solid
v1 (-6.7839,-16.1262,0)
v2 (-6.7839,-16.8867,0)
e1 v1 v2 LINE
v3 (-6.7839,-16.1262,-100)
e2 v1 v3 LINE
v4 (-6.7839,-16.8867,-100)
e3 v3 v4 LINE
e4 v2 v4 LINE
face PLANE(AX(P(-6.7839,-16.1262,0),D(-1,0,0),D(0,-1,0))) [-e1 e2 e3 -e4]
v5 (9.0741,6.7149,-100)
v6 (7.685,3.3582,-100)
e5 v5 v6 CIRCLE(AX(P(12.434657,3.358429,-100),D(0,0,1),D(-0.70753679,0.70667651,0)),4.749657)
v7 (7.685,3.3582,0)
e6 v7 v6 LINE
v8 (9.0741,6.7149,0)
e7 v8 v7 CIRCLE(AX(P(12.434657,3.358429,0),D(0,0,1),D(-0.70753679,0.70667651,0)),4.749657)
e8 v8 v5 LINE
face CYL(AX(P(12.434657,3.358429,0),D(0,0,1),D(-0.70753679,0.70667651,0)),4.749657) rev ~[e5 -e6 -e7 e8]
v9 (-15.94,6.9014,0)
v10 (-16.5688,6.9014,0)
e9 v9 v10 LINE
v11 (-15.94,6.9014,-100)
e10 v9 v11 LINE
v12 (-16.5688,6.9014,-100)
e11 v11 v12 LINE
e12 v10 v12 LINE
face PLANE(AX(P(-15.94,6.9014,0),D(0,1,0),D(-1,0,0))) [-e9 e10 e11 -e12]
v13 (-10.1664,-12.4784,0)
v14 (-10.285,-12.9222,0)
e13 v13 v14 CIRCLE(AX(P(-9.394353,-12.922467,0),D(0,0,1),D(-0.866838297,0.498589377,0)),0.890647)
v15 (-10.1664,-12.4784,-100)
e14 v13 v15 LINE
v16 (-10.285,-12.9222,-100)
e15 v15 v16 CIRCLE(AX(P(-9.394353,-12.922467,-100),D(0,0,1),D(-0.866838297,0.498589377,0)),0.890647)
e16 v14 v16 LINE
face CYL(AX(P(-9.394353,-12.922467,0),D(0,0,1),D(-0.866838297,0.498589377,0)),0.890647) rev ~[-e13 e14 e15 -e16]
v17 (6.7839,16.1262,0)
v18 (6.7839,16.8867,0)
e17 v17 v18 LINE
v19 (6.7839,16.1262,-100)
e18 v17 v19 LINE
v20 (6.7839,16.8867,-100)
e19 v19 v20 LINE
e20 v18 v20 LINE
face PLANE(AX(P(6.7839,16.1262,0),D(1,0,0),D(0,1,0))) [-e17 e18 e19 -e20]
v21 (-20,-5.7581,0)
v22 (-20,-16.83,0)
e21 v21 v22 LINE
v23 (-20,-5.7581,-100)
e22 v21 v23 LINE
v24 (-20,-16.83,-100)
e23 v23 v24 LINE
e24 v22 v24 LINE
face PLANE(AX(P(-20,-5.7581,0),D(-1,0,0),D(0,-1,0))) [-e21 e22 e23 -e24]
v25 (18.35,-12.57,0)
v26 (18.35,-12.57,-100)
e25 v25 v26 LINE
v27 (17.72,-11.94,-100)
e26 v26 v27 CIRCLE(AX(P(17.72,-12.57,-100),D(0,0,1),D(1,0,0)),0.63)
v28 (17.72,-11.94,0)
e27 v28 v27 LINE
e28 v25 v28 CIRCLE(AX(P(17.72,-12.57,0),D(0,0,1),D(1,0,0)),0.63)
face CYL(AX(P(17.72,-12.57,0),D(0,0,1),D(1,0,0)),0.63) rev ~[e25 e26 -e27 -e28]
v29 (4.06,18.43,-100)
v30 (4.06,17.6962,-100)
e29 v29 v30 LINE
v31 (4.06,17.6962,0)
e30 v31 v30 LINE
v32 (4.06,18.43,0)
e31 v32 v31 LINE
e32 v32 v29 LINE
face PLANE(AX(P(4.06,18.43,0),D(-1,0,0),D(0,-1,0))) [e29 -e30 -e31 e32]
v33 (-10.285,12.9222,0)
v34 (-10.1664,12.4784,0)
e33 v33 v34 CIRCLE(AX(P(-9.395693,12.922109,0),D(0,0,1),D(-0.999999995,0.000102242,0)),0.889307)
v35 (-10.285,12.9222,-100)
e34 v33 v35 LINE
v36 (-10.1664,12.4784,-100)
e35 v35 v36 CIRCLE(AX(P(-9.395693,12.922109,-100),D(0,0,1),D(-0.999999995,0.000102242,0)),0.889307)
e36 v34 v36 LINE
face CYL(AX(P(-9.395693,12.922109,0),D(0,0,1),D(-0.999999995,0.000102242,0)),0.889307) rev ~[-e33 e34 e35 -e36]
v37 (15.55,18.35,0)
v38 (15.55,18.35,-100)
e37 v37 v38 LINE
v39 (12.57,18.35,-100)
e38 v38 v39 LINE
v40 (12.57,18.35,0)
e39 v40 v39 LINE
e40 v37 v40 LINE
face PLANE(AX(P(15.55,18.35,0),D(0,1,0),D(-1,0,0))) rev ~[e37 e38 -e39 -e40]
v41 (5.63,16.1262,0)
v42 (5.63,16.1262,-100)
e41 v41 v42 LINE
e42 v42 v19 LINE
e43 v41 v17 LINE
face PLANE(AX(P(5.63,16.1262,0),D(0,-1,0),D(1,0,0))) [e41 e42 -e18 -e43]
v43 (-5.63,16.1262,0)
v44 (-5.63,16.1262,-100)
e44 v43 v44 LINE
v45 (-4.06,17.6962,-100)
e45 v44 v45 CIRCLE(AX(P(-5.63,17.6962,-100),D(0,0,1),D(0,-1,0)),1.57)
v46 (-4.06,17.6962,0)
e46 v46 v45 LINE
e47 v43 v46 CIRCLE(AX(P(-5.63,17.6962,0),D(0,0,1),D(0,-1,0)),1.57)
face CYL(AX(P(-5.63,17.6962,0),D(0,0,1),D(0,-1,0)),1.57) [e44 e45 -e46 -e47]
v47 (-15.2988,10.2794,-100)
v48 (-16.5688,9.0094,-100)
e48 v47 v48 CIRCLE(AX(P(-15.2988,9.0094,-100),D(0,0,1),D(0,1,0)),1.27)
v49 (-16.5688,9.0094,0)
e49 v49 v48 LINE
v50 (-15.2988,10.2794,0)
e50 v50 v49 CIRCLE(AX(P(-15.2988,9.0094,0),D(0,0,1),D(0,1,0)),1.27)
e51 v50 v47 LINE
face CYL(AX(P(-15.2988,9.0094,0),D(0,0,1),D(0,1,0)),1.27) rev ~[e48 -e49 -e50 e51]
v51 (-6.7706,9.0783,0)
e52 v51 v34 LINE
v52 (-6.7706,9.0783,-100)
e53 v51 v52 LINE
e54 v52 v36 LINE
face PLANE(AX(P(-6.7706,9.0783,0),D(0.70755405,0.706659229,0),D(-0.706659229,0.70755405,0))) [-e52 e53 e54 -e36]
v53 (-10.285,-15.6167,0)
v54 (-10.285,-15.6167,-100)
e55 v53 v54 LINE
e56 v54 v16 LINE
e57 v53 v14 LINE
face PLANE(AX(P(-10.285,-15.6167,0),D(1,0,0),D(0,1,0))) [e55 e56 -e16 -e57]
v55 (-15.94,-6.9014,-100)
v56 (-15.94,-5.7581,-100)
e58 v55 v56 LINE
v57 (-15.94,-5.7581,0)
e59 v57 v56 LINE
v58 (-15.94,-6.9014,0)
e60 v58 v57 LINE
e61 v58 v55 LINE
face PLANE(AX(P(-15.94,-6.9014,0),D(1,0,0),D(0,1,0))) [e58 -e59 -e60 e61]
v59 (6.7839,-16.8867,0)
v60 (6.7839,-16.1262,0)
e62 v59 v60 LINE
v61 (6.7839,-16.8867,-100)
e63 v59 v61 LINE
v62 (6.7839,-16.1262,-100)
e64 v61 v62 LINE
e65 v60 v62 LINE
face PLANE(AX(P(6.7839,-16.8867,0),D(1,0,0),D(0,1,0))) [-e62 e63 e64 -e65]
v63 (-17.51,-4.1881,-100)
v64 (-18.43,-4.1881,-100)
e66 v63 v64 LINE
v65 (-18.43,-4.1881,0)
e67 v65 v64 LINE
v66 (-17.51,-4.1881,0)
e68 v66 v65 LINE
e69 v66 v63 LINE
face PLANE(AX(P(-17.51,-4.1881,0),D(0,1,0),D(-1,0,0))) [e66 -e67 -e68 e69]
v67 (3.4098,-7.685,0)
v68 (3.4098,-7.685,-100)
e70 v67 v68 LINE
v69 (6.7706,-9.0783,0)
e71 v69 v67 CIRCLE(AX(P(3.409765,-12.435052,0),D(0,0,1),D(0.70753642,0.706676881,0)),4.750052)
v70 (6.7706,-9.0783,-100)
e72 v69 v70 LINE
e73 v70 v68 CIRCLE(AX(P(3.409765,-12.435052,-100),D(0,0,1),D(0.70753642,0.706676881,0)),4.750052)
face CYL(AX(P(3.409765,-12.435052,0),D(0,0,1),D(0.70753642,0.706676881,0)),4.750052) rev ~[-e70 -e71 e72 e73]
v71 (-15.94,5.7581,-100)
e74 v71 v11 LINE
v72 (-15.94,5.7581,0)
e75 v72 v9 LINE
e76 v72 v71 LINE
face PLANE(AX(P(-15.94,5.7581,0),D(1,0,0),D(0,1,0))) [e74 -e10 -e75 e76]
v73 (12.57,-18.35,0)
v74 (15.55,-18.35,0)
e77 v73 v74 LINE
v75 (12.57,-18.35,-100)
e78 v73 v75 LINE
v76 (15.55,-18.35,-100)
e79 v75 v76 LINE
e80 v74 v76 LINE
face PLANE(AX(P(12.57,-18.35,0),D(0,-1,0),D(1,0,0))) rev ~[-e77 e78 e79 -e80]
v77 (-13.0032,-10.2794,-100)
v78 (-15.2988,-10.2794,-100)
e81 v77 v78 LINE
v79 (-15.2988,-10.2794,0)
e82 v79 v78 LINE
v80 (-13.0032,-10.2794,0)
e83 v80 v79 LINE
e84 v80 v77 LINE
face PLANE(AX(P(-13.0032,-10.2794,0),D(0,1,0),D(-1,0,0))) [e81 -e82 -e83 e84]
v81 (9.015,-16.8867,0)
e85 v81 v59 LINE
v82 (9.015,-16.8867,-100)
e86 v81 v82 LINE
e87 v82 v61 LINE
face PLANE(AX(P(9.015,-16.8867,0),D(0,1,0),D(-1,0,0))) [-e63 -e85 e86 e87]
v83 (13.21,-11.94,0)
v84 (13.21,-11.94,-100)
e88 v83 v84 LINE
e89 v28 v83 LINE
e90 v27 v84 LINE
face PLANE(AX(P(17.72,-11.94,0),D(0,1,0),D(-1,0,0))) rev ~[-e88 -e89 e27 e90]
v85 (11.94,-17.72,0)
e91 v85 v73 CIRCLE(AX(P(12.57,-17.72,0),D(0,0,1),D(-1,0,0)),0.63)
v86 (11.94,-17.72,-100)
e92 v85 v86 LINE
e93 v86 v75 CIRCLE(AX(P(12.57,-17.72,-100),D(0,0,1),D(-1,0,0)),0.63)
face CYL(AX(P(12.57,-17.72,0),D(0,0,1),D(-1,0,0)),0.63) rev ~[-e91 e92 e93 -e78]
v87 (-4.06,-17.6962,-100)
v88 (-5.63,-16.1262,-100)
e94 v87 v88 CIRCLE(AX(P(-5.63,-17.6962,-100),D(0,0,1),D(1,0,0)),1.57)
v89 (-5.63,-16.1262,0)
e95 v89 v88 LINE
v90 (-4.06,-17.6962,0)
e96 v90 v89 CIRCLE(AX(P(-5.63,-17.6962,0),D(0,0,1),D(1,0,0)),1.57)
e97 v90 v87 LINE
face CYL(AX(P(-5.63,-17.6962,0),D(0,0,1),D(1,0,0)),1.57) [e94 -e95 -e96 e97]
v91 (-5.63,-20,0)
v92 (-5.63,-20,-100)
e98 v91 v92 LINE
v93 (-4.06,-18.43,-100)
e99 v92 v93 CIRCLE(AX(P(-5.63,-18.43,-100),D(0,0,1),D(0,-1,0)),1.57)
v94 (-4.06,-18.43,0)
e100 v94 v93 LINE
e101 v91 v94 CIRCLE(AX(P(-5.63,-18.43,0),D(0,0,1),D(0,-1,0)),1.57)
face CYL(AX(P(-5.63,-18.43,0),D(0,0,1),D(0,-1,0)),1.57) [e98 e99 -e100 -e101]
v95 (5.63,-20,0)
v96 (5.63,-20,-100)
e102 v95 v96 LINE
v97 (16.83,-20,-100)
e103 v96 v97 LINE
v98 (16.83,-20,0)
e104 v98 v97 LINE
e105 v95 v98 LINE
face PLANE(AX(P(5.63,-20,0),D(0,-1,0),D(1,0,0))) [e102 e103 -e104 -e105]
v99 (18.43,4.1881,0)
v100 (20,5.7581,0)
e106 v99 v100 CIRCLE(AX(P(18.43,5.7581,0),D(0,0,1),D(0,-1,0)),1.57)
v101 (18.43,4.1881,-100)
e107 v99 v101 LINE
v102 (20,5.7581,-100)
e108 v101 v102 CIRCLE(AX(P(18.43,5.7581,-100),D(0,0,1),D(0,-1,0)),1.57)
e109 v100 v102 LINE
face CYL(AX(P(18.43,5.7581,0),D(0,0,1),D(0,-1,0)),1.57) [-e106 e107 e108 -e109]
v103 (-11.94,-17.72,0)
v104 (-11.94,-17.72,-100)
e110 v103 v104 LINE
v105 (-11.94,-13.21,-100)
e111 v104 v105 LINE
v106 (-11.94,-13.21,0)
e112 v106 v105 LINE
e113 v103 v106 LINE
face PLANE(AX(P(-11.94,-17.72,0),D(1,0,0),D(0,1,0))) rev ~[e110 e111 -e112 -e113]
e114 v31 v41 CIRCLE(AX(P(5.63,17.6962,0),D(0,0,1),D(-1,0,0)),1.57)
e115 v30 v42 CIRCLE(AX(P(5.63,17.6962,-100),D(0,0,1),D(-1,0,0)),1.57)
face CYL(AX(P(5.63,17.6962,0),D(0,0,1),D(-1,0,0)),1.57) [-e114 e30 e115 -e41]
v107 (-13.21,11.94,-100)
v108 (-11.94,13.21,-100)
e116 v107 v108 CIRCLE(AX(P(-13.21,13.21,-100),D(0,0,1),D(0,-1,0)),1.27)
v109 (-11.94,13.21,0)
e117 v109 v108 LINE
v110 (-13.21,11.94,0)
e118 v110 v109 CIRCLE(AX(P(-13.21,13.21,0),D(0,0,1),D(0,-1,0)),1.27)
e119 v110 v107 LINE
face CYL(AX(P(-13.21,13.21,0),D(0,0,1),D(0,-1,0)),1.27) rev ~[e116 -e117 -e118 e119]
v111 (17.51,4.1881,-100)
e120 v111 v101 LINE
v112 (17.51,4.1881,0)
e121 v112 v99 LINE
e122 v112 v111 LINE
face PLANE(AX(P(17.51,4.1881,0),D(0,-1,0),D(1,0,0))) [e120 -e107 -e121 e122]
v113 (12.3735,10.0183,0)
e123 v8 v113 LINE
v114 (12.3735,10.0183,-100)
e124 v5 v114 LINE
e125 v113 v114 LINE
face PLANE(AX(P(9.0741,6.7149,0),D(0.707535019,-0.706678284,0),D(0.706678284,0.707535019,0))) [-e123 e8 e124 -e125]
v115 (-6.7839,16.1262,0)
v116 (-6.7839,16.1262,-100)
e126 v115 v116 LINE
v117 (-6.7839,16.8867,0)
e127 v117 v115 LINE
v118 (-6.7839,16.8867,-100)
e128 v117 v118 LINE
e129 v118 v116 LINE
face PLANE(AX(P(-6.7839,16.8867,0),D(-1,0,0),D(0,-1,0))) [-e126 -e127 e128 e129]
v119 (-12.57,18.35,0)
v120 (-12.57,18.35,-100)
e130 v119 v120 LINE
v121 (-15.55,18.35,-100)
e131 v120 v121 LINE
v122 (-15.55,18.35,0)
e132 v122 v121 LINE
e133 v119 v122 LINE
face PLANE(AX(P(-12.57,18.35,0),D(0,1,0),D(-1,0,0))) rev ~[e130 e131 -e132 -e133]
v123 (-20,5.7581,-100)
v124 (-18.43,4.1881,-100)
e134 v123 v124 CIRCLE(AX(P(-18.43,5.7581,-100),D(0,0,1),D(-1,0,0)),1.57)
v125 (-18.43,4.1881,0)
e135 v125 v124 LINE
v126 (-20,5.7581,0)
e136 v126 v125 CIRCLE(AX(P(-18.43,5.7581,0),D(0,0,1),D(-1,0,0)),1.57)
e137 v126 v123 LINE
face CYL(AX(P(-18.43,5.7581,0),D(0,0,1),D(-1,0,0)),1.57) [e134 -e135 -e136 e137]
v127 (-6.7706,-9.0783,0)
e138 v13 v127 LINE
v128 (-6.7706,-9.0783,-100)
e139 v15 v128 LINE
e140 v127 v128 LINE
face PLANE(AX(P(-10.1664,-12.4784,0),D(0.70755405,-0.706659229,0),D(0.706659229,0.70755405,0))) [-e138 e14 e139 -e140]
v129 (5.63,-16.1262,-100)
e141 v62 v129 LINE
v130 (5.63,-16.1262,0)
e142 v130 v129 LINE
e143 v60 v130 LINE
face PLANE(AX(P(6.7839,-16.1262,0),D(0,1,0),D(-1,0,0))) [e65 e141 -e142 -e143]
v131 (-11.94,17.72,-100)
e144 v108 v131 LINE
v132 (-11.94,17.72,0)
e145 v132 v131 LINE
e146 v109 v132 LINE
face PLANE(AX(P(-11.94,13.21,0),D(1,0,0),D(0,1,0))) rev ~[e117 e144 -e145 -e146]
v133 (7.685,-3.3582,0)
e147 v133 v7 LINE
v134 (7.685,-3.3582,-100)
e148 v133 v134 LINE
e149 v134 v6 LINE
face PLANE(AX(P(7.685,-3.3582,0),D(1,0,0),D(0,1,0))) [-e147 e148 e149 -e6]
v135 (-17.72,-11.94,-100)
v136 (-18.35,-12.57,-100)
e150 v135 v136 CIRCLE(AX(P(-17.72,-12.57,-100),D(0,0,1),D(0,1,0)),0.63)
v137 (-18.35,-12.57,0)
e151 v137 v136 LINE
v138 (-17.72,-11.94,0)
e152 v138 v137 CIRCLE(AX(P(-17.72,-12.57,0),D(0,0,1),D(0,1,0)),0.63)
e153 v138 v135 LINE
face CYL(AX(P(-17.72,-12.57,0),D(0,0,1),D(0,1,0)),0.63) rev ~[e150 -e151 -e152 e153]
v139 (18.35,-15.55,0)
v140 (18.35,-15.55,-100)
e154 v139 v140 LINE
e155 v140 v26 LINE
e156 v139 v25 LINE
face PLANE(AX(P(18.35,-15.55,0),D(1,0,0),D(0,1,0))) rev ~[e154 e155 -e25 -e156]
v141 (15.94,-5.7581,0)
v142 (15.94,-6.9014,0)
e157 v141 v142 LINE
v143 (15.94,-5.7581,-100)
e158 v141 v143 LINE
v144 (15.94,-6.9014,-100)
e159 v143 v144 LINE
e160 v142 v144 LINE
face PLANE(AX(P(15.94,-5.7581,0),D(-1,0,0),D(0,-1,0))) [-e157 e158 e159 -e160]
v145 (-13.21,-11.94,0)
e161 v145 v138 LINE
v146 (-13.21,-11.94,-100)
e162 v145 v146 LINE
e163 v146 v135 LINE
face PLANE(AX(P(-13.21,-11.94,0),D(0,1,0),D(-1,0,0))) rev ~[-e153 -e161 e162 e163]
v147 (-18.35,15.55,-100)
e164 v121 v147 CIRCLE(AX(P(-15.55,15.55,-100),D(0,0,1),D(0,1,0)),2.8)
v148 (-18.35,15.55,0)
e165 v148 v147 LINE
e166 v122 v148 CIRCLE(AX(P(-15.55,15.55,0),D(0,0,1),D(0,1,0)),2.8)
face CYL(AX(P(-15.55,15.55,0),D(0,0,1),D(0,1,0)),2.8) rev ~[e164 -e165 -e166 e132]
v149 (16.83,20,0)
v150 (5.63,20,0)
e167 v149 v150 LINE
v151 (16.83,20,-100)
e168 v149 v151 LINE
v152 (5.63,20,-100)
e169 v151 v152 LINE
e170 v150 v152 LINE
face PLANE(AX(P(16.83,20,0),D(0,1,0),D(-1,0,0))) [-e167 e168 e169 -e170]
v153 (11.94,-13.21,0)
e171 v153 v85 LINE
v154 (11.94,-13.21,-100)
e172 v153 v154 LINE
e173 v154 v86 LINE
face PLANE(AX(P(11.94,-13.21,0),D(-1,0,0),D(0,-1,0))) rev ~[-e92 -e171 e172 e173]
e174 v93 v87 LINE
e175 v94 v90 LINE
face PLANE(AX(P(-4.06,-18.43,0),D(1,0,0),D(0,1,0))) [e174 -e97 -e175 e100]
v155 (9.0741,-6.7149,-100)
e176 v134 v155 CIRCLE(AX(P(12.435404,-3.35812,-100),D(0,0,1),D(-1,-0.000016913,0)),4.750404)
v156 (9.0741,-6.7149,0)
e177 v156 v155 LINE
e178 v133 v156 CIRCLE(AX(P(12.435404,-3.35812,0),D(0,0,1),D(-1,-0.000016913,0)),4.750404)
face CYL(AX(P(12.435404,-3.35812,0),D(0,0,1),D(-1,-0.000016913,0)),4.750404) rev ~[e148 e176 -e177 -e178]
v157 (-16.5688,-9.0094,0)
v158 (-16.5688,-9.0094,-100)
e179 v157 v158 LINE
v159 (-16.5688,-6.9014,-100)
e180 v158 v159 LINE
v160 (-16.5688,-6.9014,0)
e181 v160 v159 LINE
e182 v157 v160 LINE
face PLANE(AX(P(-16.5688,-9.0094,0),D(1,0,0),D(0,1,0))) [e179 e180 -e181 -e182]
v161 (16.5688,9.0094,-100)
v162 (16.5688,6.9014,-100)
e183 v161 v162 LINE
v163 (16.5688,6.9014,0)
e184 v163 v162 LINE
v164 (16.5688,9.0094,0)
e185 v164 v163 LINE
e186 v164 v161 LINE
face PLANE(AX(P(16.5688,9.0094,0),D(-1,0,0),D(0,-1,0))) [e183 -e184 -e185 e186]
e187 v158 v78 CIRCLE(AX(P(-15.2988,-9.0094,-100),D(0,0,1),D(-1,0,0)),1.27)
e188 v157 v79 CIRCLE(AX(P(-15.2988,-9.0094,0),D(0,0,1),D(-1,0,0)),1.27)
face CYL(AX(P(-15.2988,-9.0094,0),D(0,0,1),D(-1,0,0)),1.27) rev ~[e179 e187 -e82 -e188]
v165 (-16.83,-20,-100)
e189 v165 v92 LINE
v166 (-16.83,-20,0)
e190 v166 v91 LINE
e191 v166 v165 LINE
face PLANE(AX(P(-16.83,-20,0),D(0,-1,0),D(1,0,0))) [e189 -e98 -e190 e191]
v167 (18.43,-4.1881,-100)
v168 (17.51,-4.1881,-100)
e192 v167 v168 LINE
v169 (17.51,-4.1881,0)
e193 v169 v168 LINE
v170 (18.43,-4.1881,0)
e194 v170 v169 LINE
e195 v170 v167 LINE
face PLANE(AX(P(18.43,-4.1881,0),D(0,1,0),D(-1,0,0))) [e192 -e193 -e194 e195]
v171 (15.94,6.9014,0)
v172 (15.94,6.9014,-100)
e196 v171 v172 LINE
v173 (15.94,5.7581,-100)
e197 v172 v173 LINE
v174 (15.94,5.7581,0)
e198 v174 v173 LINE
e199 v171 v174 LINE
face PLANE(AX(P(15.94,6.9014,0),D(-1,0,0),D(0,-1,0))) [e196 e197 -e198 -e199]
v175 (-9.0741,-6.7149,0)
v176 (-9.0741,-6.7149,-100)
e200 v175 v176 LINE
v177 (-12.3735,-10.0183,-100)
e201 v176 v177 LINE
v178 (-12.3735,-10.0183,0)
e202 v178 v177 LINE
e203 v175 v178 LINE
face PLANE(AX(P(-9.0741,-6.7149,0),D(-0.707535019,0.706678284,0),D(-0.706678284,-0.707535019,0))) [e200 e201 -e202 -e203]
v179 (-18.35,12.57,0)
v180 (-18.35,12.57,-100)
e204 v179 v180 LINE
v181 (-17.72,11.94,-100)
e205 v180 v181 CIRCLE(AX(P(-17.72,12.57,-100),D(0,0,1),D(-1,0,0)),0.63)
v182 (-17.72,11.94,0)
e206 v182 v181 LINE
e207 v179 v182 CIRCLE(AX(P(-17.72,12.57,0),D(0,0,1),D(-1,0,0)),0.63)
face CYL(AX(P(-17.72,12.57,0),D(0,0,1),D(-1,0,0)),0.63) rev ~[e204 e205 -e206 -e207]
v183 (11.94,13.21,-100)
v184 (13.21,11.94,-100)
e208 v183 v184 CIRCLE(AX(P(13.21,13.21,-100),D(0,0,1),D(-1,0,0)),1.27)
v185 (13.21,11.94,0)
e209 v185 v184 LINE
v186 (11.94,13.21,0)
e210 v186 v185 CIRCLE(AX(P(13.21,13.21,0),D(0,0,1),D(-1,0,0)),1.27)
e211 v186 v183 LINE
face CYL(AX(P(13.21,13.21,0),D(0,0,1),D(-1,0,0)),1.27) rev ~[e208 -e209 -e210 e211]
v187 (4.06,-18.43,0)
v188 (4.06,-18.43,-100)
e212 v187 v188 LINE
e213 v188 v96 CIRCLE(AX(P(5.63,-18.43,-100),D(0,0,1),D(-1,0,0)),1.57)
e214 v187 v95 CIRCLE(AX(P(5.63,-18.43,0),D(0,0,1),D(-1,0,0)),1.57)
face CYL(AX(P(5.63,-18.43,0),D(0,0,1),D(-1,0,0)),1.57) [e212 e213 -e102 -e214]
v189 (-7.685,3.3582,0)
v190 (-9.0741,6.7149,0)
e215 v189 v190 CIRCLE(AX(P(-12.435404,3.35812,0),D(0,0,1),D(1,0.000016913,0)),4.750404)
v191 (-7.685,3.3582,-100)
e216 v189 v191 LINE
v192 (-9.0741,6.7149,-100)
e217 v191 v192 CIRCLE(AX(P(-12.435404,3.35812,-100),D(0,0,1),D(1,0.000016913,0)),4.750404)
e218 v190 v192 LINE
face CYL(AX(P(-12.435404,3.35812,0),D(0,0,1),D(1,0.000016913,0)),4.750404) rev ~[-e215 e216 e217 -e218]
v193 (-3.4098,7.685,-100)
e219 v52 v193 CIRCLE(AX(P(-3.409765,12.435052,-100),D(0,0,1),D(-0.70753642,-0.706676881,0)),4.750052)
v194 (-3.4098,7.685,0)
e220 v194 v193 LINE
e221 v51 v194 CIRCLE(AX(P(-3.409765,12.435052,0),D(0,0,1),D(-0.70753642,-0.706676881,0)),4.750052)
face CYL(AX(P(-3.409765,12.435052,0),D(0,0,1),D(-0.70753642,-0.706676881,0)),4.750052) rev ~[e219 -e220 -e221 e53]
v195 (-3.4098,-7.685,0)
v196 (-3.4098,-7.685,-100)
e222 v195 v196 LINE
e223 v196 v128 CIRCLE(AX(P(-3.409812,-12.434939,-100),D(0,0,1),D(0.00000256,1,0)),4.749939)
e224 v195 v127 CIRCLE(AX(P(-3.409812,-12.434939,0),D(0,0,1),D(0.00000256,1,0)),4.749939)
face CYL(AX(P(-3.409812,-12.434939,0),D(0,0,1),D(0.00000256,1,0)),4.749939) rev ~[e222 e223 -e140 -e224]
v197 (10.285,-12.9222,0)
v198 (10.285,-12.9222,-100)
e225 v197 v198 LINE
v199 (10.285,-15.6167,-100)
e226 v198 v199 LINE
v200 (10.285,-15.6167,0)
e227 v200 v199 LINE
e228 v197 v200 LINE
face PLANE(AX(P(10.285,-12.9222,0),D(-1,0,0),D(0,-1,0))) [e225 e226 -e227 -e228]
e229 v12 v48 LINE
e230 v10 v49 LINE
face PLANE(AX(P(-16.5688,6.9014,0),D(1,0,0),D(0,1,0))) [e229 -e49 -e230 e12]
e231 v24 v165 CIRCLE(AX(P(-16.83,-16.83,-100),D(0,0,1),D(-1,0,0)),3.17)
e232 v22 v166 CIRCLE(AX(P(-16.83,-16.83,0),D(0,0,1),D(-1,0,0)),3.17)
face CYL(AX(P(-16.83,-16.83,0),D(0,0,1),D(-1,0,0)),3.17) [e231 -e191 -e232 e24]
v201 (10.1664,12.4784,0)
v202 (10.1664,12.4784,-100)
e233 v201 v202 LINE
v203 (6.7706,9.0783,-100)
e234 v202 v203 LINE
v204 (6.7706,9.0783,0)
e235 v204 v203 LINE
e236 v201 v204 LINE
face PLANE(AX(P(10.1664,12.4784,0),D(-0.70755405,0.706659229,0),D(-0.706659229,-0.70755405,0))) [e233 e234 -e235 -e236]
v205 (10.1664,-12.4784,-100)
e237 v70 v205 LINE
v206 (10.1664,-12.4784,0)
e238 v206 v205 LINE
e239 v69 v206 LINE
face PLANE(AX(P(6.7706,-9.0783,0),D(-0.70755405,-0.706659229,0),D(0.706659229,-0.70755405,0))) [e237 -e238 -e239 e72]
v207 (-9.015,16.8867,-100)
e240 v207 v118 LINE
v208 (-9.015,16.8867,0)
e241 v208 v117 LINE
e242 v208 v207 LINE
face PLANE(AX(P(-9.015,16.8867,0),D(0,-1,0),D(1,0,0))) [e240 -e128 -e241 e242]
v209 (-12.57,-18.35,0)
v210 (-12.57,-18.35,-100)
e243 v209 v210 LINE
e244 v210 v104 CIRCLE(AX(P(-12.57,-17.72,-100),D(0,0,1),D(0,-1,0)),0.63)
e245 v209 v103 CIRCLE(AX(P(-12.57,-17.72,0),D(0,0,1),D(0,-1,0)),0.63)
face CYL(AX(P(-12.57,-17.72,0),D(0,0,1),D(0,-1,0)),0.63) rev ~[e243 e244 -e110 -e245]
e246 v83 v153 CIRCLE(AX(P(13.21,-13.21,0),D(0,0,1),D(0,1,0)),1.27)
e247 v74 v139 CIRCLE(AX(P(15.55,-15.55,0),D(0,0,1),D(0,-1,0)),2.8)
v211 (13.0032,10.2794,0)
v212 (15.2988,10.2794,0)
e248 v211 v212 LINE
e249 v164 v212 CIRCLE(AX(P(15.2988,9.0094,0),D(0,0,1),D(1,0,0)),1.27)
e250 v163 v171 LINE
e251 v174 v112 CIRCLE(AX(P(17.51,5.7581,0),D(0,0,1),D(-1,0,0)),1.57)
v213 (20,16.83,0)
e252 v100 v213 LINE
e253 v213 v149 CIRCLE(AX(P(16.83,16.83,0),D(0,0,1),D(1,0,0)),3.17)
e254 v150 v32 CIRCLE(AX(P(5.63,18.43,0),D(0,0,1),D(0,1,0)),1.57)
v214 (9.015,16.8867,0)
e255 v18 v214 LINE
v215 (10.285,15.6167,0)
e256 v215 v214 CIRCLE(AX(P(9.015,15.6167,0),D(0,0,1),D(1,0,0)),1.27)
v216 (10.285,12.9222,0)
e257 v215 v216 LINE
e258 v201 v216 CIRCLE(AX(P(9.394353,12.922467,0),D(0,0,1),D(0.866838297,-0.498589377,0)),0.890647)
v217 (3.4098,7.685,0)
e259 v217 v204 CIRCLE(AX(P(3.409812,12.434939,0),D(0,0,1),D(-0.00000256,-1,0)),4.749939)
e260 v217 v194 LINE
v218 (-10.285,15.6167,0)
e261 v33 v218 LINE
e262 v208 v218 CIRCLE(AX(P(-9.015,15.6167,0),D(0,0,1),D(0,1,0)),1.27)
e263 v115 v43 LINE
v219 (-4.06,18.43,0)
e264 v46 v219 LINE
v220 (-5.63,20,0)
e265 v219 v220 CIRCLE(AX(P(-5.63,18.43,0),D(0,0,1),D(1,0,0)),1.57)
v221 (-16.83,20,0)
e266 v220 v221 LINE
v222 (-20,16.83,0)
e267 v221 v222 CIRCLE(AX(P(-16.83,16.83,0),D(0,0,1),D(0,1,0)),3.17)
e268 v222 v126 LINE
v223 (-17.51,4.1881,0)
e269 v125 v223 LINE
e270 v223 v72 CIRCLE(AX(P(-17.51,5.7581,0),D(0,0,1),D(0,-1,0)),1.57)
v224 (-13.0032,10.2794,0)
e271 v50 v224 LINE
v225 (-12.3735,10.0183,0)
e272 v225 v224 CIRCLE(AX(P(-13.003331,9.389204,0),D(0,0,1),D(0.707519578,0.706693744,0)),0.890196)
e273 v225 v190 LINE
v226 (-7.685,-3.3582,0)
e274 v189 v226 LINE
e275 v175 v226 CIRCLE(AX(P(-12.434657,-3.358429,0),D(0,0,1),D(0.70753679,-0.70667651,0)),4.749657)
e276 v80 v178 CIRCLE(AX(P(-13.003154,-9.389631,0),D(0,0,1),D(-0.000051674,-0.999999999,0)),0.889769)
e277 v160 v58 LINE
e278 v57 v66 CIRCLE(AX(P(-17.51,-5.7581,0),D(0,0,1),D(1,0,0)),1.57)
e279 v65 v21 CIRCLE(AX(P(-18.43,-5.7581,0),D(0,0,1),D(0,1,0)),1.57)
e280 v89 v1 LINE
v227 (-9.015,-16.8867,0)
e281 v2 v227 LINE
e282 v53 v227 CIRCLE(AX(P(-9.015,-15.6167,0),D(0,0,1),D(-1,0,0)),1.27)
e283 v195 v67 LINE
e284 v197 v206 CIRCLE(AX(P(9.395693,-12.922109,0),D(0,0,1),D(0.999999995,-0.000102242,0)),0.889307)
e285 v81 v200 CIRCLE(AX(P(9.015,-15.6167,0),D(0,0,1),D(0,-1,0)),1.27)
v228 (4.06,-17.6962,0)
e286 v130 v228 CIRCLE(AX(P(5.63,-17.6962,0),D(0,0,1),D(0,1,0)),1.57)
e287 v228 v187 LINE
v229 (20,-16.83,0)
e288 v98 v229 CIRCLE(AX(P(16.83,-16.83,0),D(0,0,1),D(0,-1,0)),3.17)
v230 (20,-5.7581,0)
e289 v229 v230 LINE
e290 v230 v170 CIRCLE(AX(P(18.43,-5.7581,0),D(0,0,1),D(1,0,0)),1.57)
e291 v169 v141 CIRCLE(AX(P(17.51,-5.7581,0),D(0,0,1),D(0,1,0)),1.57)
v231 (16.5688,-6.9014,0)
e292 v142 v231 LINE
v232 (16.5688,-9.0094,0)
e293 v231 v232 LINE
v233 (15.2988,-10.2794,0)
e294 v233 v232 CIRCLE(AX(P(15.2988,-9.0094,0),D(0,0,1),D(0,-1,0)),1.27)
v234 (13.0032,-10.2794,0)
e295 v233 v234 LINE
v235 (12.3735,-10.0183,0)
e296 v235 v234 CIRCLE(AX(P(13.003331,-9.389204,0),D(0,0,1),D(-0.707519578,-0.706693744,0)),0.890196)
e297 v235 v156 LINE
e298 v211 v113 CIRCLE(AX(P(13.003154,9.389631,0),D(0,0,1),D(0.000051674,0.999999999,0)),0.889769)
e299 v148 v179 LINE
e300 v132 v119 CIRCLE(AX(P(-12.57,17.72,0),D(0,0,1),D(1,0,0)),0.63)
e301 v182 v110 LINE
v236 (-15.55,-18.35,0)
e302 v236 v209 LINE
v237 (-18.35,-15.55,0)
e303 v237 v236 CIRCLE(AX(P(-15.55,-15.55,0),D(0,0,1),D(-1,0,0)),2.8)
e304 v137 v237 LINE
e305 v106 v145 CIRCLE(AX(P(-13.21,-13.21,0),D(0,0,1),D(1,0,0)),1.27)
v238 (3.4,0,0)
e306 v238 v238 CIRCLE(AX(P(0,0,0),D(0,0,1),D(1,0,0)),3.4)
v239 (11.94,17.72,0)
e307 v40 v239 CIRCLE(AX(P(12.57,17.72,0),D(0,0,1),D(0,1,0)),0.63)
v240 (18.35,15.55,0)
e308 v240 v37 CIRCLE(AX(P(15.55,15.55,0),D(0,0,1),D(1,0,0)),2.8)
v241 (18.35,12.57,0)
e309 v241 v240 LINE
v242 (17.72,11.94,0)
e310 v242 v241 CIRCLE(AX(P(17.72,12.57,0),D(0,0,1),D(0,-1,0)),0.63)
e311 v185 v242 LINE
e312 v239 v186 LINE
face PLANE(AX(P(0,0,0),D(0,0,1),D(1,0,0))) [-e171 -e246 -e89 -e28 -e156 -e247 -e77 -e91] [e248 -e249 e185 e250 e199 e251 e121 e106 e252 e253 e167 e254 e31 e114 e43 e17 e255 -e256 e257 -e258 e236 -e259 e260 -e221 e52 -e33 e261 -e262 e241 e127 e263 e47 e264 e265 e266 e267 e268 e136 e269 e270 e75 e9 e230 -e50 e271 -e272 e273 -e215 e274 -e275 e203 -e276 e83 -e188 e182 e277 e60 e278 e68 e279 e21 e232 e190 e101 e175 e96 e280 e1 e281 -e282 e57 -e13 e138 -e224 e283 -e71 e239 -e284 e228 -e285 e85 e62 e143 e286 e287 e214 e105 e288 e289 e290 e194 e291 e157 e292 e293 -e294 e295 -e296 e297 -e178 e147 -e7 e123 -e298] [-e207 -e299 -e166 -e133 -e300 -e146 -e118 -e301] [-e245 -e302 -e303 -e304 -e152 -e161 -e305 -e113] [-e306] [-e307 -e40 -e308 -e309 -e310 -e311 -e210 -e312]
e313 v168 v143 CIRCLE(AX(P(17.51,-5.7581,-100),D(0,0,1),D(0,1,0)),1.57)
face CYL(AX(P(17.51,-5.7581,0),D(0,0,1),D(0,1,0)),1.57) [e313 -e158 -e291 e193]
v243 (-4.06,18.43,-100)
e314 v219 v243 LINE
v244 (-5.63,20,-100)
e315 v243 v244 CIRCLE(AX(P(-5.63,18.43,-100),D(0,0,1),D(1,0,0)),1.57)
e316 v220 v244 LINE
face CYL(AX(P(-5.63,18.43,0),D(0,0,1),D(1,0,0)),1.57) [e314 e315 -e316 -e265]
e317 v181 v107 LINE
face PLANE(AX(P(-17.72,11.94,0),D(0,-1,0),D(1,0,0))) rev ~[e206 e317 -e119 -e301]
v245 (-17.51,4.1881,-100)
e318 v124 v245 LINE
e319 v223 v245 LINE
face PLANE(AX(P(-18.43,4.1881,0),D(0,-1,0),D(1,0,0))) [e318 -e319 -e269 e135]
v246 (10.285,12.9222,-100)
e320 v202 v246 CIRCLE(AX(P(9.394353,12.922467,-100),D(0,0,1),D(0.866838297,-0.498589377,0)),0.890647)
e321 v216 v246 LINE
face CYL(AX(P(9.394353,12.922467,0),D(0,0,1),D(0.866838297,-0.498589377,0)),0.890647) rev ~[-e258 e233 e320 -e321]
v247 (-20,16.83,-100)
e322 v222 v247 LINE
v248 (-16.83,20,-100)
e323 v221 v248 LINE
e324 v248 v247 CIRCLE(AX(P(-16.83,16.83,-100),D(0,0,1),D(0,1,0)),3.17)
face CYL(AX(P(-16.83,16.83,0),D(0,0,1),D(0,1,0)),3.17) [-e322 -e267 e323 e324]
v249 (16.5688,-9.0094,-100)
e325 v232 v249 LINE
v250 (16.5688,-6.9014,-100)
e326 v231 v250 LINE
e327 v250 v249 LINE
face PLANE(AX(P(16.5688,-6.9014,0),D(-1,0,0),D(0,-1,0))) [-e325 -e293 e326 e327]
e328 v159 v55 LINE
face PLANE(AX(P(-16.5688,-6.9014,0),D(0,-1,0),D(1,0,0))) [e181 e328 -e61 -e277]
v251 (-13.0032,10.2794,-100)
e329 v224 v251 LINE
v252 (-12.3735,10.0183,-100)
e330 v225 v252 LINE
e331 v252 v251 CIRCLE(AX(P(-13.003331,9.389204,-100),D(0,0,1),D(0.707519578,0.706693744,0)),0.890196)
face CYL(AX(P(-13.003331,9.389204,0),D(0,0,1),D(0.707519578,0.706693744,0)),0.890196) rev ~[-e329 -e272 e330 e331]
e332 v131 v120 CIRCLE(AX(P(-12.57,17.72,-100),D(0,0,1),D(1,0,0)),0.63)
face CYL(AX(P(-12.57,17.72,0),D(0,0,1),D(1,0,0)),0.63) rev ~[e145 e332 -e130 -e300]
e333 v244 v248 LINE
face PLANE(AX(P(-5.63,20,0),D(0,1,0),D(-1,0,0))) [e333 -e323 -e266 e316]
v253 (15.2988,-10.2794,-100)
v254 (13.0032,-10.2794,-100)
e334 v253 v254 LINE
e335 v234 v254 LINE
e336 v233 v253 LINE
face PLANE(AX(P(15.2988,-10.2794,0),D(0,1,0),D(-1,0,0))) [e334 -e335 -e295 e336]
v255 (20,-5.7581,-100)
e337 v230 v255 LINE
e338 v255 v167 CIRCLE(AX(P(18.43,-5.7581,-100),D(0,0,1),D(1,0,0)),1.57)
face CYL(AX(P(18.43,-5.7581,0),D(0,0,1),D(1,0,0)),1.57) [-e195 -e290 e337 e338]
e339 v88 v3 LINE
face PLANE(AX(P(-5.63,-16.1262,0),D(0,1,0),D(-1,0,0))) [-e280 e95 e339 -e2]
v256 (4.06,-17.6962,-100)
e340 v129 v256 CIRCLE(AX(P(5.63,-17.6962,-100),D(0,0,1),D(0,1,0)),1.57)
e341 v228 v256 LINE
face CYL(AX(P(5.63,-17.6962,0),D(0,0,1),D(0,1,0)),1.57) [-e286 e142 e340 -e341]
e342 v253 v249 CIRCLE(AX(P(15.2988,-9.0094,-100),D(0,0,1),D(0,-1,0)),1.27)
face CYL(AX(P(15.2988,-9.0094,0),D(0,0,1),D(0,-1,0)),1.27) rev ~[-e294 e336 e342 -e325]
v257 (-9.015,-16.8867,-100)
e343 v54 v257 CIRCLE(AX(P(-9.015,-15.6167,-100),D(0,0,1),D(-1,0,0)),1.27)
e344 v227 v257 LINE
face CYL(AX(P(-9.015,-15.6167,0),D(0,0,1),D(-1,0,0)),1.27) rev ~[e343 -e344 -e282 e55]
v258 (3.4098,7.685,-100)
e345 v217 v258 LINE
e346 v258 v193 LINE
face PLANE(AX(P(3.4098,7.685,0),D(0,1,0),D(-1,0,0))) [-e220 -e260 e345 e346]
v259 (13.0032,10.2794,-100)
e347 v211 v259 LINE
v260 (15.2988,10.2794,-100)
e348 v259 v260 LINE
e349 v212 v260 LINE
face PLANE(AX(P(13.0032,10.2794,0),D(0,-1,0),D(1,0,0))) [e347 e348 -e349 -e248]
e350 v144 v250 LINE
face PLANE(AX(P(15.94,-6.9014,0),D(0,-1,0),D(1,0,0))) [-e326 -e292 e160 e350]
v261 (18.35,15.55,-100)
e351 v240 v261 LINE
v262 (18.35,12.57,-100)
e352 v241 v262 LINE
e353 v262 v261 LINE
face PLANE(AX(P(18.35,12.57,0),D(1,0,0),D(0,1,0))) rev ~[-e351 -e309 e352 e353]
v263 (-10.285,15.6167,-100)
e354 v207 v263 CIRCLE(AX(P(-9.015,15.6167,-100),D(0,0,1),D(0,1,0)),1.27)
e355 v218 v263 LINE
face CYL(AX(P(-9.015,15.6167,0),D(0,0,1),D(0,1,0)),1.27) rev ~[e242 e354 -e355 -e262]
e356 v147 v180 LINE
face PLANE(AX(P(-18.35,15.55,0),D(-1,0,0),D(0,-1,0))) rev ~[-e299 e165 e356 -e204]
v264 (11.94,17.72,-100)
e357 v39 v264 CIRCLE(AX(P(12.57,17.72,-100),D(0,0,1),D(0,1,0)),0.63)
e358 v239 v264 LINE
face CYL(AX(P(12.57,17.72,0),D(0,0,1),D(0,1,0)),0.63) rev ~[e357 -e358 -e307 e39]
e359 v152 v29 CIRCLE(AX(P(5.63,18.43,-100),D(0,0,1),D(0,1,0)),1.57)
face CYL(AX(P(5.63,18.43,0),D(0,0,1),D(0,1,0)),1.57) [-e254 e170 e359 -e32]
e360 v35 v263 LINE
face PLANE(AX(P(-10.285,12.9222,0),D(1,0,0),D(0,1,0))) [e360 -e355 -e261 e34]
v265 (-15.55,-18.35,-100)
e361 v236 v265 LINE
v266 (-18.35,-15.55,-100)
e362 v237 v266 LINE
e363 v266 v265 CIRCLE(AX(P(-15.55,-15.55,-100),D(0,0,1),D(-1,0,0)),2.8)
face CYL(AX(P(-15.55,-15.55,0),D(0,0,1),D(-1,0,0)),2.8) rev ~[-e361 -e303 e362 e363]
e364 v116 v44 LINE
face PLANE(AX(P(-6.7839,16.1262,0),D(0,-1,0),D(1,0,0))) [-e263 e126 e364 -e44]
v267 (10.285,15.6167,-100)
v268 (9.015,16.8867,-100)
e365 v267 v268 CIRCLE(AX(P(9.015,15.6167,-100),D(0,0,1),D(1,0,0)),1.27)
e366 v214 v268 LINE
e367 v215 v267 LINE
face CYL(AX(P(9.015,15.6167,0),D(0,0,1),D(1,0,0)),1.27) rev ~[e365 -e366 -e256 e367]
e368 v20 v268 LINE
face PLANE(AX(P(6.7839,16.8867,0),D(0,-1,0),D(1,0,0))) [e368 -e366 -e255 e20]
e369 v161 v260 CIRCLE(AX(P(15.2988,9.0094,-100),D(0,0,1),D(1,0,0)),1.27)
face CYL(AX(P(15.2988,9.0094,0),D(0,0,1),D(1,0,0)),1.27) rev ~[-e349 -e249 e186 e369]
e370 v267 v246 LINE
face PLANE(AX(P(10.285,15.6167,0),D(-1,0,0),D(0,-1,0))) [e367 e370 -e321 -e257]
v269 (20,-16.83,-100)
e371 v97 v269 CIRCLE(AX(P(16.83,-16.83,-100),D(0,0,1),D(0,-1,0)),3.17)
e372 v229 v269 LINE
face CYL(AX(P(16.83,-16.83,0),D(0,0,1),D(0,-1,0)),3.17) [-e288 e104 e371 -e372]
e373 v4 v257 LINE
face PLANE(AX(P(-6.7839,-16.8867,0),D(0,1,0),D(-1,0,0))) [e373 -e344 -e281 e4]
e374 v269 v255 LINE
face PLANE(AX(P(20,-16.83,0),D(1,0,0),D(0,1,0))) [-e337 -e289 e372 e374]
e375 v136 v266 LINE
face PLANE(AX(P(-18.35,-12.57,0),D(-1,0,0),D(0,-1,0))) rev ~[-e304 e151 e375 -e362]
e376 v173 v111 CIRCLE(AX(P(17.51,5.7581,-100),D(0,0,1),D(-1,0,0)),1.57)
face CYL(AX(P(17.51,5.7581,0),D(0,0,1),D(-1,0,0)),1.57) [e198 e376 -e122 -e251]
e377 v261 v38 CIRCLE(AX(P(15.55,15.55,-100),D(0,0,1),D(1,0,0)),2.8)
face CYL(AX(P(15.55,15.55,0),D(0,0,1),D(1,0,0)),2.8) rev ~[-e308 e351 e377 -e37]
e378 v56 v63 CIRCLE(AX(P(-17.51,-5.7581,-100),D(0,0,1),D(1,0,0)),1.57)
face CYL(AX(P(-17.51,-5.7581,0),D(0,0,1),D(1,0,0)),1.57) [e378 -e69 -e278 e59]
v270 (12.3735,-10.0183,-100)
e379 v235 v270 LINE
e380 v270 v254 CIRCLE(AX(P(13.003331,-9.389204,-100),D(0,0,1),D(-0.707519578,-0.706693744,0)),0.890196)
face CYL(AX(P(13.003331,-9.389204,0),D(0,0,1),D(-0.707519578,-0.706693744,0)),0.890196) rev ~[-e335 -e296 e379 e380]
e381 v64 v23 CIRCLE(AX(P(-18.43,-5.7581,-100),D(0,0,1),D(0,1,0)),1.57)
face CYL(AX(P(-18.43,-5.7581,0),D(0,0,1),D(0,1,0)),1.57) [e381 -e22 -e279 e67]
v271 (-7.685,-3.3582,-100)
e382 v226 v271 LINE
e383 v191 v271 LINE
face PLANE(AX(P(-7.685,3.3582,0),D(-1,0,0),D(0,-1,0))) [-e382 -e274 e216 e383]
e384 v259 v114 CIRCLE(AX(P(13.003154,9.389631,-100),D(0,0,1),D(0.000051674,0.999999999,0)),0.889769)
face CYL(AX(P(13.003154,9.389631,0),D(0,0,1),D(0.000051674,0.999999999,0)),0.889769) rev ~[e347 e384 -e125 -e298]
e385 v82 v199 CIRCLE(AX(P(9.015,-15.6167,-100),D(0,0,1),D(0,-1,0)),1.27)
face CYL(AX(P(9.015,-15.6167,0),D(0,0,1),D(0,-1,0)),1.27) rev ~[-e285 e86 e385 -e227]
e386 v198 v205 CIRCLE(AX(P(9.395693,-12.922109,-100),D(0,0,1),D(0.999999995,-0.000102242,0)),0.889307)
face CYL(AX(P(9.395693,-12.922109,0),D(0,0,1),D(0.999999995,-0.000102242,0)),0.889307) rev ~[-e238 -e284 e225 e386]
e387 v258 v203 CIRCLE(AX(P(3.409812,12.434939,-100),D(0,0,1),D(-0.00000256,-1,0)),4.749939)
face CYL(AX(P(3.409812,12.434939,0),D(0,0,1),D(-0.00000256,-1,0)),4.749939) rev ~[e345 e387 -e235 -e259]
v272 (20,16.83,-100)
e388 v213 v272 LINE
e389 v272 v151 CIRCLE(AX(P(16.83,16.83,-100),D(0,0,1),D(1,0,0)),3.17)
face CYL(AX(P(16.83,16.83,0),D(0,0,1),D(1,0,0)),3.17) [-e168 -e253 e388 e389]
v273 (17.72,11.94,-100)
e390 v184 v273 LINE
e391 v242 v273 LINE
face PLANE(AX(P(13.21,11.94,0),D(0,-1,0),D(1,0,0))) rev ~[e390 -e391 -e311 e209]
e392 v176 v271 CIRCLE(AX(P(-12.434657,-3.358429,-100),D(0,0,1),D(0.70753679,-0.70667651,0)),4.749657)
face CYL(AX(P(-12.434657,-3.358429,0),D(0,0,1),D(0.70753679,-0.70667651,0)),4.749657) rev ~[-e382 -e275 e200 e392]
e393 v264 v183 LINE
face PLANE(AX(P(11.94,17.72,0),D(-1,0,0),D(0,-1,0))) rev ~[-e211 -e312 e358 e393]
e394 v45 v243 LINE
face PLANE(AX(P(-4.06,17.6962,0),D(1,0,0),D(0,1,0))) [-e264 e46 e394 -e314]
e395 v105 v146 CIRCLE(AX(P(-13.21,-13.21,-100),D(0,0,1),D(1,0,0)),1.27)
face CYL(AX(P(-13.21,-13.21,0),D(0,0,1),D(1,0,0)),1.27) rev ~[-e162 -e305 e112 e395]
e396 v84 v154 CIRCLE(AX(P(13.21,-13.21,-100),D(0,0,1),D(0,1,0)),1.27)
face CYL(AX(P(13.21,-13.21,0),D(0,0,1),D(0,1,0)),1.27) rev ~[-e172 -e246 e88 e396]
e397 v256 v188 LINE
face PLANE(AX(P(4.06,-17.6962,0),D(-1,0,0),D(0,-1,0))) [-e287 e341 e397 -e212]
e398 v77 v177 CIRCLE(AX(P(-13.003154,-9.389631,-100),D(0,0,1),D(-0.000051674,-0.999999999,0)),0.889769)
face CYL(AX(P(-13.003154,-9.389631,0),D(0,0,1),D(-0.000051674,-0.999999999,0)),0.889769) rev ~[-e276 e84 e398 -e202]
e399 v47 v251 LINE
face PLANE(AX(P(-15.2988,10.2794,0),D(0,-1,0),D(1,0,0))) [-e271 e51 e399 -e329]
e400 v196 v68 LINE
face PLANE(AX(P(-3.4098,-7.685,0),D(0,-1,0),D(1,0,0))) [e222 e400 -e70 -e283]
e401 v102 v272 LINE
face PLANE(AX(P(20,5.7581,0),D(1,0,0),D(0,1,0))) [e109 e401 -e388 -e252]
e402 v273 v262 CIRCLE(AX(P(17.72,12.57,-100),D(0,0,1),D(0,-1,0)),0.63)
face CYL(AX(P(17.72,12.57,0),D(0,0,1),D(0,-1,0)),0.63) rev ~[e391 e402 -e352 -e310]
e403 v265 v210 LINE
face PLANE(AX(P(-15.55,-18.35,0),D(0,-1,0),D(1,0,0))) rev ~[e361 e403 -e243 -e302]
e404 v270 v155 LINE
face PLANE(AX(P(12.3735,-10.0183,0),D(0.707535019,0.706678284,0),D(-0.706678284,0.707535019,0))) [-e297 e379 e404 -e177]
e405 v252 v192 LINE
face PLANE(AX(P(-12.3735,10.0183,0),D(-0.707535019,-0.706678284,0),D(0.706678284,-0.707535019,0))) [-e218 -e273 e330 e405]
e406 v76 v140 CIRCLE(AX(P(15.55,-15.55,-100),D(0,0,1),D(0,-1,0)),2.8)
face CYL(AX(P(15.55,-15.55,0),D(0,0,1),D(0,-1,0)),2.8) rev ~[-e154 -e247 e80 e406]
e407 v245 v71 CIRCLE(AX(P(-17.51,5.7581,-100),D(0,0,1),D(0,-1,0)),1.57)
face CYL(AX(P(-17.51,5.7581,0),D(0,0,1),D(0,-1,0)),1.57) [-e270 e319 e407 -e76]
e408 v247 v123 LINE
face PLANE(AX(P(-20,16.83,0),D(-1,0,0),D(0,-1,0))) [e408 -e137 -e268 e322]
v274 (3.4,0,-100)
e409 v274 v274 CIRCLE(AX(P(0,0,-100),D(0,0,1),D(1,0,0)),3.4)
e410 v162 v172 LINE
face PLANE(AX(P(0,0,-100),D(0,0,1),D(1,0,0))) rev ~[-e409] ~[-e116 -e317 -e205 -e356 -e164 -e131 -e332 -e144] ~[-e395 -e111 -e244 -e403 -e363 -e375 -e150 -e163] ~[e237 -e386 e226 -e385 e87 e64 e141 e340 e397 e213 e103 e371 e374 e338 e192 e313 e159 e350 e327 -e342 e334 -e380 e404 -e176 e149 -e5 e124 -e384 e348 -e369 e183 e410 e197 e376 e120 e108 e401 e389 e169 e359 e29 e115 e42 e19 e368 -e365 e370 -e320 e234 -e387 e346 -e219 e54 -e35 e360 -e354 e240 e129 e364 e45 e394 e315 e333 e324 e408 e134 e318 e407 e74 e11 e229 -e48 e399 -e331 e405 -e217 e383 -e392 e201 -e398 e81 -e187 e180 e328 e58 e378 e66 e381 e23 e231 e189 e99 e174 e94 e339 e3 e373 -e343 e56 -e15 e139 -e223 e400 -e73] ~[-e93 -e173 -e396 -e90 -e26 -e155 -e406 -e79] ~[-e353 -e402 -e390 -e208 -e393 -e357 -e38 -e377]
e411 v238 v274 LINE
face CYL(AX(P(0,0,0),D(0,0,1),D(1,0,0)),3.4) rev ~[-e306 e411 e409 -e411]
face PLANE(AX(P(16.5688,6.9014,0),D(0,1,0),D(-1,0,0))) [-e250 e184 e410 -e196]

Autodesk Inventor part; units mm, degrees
ref_plane "YZ Plane" through (0, 0, 0) normal (1, 0, 0) x (0, 1, 0)
ref_plane "XZ Plane" through (0, 0, 0) normal (0, 1, 0) x (-1, 0, 0)
ref_plane "XY Plane" through (0, 0, 0) normal (0, 0, 1) x (1, 0, 0)
sketch "Sketch1" plane through (0, 0, 0) normal (0, 0, 1) x (1, 0, 0)
  arc A0 (-15.55, 18.35) -> (-18.35, 15.55) centre (-15.55, 15.55) ccw
  line L0 (-12.57, 18.35) -> (-15.55, 18.35)
  arc A1 (-11.94, 17.72) -> (-12.57, 18.35) centre (-12.57, 17.72) ccw
  line L1 (-11.94, 13.21) -> (-11.94, 17.72)
  arc A2 (-13.21, 11.94) -> (-11.94, 13.21) centre (-13.21, 13.21) ccw
  line L2 (-17.72, 11.94) -> (-13.21, 11.94)
  arc A3 (-18.35, 12.57) -> (-17.72, 11.94) centre (-17.72, 12.57) ccw
  line L3 (-18.35, 15.55) -> (-18.35, 12.57)
  arc A4 (18.35, -12.57) -> (17.72, -11.94) centre (17.72, -12.57) ccw
  line L4 (18.35, -15.55) -> (18.35, -12.57)
  arc A5 (15.55, -18.35) -> (18.35, -15.55) centre (15.55, -15.55) ccw
  line L5 (12.57, -18.35) -> (15.55, -18.35)
  arc A6 (11.94, -17.72) -> (12.57, -18.35) centre (12.57, -17.72) ccw
  line L6 (11.94, -13.21) -> (11.94, -17.72)
  arc A7 (13.21, -11.94) -> (11.94, -13.21) centre (13.21, -13.21) ccw
  line L7 (17.72, -11.94) -> (13.21, -11.94)
  arc A8 (-18.35, -15.55) -> (-15.55, -18.35) centre (-15.55, -15.55) ccw
  line L8 (-18.35, -12.57) -> (-18.35, -15.55)
  arc A9 (-17.72, -11.94) -> (-18.35, -12.57) centre (-17.72, -12.57) ccw
  line L9 (-13.21, -11.94) -> (-17.72, -11.94)
  arc A10 (-11.94, -13.21) -> (-13.21, -11.94) centre (-13.21, -13.21) ccw
  line L10 (-11.94, -17.72) -> (-11.94, -13.21)
  arc A11 (-12.57, -18.35) -> (-11.94, -17.72) centre (-12.57, -17.72) ccw
  line L11 (-15.55, -18.35) -> (-12.57, -18.35)
  circle A12 centre (0, 0) radius 3.4
  arc A13 (18.35, 15.55) -> (15.55, 18.35) centre (15.55, 15.55) ccw
  line L12 (18.35, 12.57) -> (18.35, 15.55)
  arc A14 (17.72, 11.94) -> (18.35, 12.57) centre (17.72, 12.57) ccw
  line L13 (13.21, 11.94) -> (17.72, 11.94)
  arc A15 (11.94, 13.21) -> (13.21, 11.94) centre (13.21, 13.21) ccw
  line L14 (11.94, 17.72) -> (11.94, 13.21)
  arc A16 (12.57, 18.35) -> (11.94, 17.72) centre (12.57, 17.72) ccw
  line L15 (15.55, 18.35) -> (12.57, 18.35)
  arc A17 (7.685, -3.3582) -> (9.0741, -6.7149) centre (12.435, -3.3582) ccw
  line L16 (7.685, -3.3582) -> (7.685, 3.3582)
  arc A18 (9.0741, 6.7149) -> (7.685, 3.3582) centre (12.435, 3.3582) ccw
  line L17 (9.0741, 6.7149) -> (12.3735, 10.0183)
  arc A19 (13.0032, 10.2794) -> (12.3735, 10.0183) centre (13.0032, 9.3894) ccw
  line L18 (13.0032, 10.2794) -> (15.2988, 10.2794)
  arc A20 (16.5688, 9.0094) -> (15.2988, 10.2794) centre (15.2988, 9.0094) ccw
  line L19 (16.5688, 9.0094) -> (16.5688, 6.9014)
  line L20 (16.5688, 6.9014) -> (15.94, 6.9014)
  line L21 (15.94, 6.9014) -> (15.94, 5.7581)
  arc A21 (15.94, 5.7581) -> (17.51, 4.1881) centre (17.51, 5.7581) ccw
  line L22 (17.51, 4.1881) -> (18.43, 4.1881)
  arc A22 (18.43, 4.1881) -> (20, 5.7581) centre (18.43, 5.7581) ccw
  line L23 (20, 5.7581) -> (20, 16.83)
  arc A23 (20, 16.83) -> (16.83, 20) centre (16.83, 16.83) ccw
  line L24 (16.83, 20) -> (5.63, 20)
  arc A24 (5.63, 20) -> (4.06, 18.43) centre (5.63, 18.43) ccw
  line L25 (4.06, 18.43) -> (4.06, 17.6962)
  arc A25 (4.06, 17.6962) -> (5.63, 16.1262) centre (5.63, 17.6962) ccw
  line L26 (5.63, 16.1262) -> (6.7839, 16.1262)
  line L27 (6.7839, 16.1262) -> (6.7839, 16.8867)
  line L28 (6.7839, 16.8867) -> (9.015, 16.8867)
  arc A26 (10.285, 15.6167) -> (9.015, 16.8867) centre (9.015, 15.6167) ccw
  line L29 (10.285, 15.6167) -> (10.285, 12.9222)
  arc A27 (10.1664, 12.4784) -> (10.285, 12.9222) centre (9.395, 12.9222) ccw
  line L30 (10.1664, 12.4784) -> (6.7706, 9.0783)
  arc A28 (3.4098, 7.685) -> (6.7706, 9.0783) centre (3.4098, 12.435) ccw
  line L31 (3.4098, 7.685) -> (-3.4098, 7.685)
  arc A29 (-6.7706, 9.0783) -> (-3.4098, 7.685) centre (-3.4098, 12.435) ccw
  line L32 (-6.7706, 9.0783) -> (-10.1664, 12.4784)
  arc A30 (-10.285, 12.9222) -> (-10.1664, 12.4784) centre (-9.395, 12.9222) ccw
  line L33 (-10.285, 12.9222) -> (-10.285, 15.6167)
  arc A31 (-9.015, 16.8867) -> (-10.285, 15.6167) centre (-9.015, 15.6167) ccw
  line L34 (-9.015, 16.8867) -> (-6.7839, 16.8867)
  line L35 (-6.7839, 16.8867) -> (-6.7839, 16.1262)
  line L36 (-6.7839, 16.1262) -> (-5.63, 16.1262)
  arc A32 (-5.63, 16.1262) -> (-4.06, 17.6962) centre (-5.63, 17.6962) ccw
  line L37 (-4.06, 17.6962) -> (-4.06, 18.43)
  arc A33 (-4.06, 18.43) -> (-5.63, 20) centre (-5.63, 18.43) ccw
  line L38 (-5.63, 20) -> (-16.83, 20)
  arc A34 (-16.83, 20) -> (-20, 16.83) centre (-16.83, 16.83) ccw
  line L39 (-20, 16.83) -> (-20, 5.7581)
  arc A35 (-20, 5.7581) -> (-18.43, 4.1881) centre (-18.43, 5.7581) ccw
  line L40 (-18.43, 4.1881) -> (-17.51, 4.1881)
  arc A36 (-17.51, 4.1881) -> (-15.94, 5.7581) centre (-17.51, 5.7581) ccw
  line L41 (-15.94, 5.7581) -> (-15.94, 6.9014)
  line L42 (-15.94, 6.9014) -> (-16.5688, 6.9014)
  line L43 (-16.5688, 6.9014) -> (-16.5688, 9.0094)
  arc A37 (-15.2988, 10.2794) -> (-16.5688, 9.0094) centre (-15.2988, 9.0094) ccw
  line L44 (-15.2988, 10.2794) -> (-13.0032, 10.2794)
  arc A38 (-12.3735, 10.0183) -> (-13.0032, 10.2794) centre (-13.0032, 9.3894) ccw
  line L45 (-12.3735, 10.0183) -> (-9.0741, 6.7149)
  arc A39 (-7.685, 3.3582) -> (-9.0741, 6.7149) centre (-12.435, 3.3582) ccw
  line L46 (-7.685, 3.3582) -> (-7.685, -3.3582)
  arc A40 (-9.0741, -6.7149) -> (-7.685, -3.3582) centre (-12.435, -3.3582) ccw
  line L47 (-9.0741, -6.7149) -> (-12.3735, -10.0183)
  arc A41 (-13.0032, -10.2794) -> (-12.3735, -10.0183) centre (-13.0032, -9.3894) ccw
  line L48 (-13.0032, -10.2794) -> (-15.2988, -10.2794)
  arc A42 (-16.5688, -9.0094) -> (-15.2988, -10.2794) centre (-15.2988, -9.0094) ccw
  line L49 (-16.5688, -9.0094) -> (-16.5688, -6.9014)
  line L50 (-16.5688, -6.9014) -> (-15.94, -6.9014)
  line L51 (-15.94, -6.9014) -> (-15.94, -5.7581)
  arc A43 (-15.94, -5.7581) -> (-17.51, -4.1881) centre (-17.51, -5.7581) ccw
  line L52 (-17.51, -4.1881) -> (-18.43, -4.1881)
  arc A44 (-18.43, -4.1881) -> (-20, -5.7581) centre (-18.43, -5.7581) ccw
  line L53 (-20, -5.7581) -> (-20, -16.83)
  arc A45 (-20, -16.83) -> (-16.83, -20) centre (-16.83, -16.83) ccw
  line L54 (-16.83, -20) -> (-5.63, -20)
  arc A46 (-5.63, -20) -> (-4.06, -18.43) centre (-5.63, -18.43) ccw
  line L55 (-4.06, -18.43) -> (-4.06, -17.6962)
  arc A47 (-4.06, -17.6962) -> (-5.63, -16.1262) centre (-5.63, -17.6962) ccw
  line L56 (-5.63, -16.1262) -> (-6.7839, -16.1262)
  line L57 (-6.7839, -16.1262) -> (-6.7839, -16.8867)
  line L58 (-6.7839, -16.8867) -> (-9.015, -16.8867)
  arc A48 (-10.285, -15.6167) -> (-9.015, -16.8867) centre (-9.015, -15.6167) ccw
  line L59 (-10.285, -15.6167) -> (-10.285, -12.9222)
  arc A49 (-10.1664, -12.4784) -> (-10.285, -12.9222) centre (-9.395, -12.9222) ccw
  line L60 (-10.1664, -12.4784) -> (-6.7706, -9.0783)
  arc A50 (-3.4098, -7.685) -> (-6.7706, -9.0783) centre (-3.4098, -12.435) ccw
  line L61 (-3.4098, -7.685) -> (3.4098, -7.685)
  arc A51 (6.7706, -9.0783) -> (3.4098, -7.685) centre (3.4098, -12.435) ccw
  line L62 (6.7706, -9.0783) -> (10.1664, -12.4784)
  arc A52 (10.285, -12.9222) -> (10.1664, -12.4784) centre (9.395, -12.9222) ccw
  line L63 (10.285, -12.9222) -> (10.285, -15.6167)
  arc A53 (9.015, -16.8867) -> (10.285, -15.6167) centre (9.015, -15.6167) ccw
  line L64 (9.015, -16.8867) -> (6.7839, -16.8867)
  line L65 (6.7839, -16.8867) -> (6.7839, -16.1262)
  line L66 (6.7839, -16.1262) -> (5.63, -16.1262)
  arc A54 (5.63, -16.1262) -> (4.06, -17.6962) centre (5.63, -17.6962) ccw
  line L67 (4.06, -17.6962) -> (4.06, -18.43)
  arc A55 (4.06, -18.43) -> (5.63, -20) centre (5.63, -18.43) ccw
  line L68 (5.63, -20) -> (16.83, -20)
  arc A56 (16.83, -20) -> (20, -16.83) centre (16.83, -16.83) ccw
  line L69 (20, -16.83) -> (20, -5.7581)
  arc A57 (20, -5.7581) -> (18.43, -4.1881) centre (18.43, -5.7581) ccw
  line L70 (18.43, -4.1881) -> (17.51, -4.1881)
  arc A58 (17.51, -4.1881) -> (15.94, -5.7581) centre (17.51, -5.7581) ccw
  line L71 (15.94, -5.7581) -> (15.94, -6.9014)
  line L72 (15.94, -6.9014) -> (16.5688, -6.9014)
  line L73 (16.5688, -6.9014) -> (16.5688, -9.0094)
  arc A59 (15.2988, -10.2794) -> (16.5688, -9.0094) centre (15.2988, -9.0094) ccw
  line L74 (15.2988, -10.2794) -> (13.0032, -10.2794)
  arc A60 (12.3735, -10.0183) -> (13.0032, -10.2794) centre (13.0032, -9.3894) ccw
  line L75 (12.3735, -10.0183) -> (9.0741, -6.7149)
extrude "Extrusion1" add sketch "Sketch1" against normal blind 100
properties part number "40-4040-LITE-BLACK-FB"
